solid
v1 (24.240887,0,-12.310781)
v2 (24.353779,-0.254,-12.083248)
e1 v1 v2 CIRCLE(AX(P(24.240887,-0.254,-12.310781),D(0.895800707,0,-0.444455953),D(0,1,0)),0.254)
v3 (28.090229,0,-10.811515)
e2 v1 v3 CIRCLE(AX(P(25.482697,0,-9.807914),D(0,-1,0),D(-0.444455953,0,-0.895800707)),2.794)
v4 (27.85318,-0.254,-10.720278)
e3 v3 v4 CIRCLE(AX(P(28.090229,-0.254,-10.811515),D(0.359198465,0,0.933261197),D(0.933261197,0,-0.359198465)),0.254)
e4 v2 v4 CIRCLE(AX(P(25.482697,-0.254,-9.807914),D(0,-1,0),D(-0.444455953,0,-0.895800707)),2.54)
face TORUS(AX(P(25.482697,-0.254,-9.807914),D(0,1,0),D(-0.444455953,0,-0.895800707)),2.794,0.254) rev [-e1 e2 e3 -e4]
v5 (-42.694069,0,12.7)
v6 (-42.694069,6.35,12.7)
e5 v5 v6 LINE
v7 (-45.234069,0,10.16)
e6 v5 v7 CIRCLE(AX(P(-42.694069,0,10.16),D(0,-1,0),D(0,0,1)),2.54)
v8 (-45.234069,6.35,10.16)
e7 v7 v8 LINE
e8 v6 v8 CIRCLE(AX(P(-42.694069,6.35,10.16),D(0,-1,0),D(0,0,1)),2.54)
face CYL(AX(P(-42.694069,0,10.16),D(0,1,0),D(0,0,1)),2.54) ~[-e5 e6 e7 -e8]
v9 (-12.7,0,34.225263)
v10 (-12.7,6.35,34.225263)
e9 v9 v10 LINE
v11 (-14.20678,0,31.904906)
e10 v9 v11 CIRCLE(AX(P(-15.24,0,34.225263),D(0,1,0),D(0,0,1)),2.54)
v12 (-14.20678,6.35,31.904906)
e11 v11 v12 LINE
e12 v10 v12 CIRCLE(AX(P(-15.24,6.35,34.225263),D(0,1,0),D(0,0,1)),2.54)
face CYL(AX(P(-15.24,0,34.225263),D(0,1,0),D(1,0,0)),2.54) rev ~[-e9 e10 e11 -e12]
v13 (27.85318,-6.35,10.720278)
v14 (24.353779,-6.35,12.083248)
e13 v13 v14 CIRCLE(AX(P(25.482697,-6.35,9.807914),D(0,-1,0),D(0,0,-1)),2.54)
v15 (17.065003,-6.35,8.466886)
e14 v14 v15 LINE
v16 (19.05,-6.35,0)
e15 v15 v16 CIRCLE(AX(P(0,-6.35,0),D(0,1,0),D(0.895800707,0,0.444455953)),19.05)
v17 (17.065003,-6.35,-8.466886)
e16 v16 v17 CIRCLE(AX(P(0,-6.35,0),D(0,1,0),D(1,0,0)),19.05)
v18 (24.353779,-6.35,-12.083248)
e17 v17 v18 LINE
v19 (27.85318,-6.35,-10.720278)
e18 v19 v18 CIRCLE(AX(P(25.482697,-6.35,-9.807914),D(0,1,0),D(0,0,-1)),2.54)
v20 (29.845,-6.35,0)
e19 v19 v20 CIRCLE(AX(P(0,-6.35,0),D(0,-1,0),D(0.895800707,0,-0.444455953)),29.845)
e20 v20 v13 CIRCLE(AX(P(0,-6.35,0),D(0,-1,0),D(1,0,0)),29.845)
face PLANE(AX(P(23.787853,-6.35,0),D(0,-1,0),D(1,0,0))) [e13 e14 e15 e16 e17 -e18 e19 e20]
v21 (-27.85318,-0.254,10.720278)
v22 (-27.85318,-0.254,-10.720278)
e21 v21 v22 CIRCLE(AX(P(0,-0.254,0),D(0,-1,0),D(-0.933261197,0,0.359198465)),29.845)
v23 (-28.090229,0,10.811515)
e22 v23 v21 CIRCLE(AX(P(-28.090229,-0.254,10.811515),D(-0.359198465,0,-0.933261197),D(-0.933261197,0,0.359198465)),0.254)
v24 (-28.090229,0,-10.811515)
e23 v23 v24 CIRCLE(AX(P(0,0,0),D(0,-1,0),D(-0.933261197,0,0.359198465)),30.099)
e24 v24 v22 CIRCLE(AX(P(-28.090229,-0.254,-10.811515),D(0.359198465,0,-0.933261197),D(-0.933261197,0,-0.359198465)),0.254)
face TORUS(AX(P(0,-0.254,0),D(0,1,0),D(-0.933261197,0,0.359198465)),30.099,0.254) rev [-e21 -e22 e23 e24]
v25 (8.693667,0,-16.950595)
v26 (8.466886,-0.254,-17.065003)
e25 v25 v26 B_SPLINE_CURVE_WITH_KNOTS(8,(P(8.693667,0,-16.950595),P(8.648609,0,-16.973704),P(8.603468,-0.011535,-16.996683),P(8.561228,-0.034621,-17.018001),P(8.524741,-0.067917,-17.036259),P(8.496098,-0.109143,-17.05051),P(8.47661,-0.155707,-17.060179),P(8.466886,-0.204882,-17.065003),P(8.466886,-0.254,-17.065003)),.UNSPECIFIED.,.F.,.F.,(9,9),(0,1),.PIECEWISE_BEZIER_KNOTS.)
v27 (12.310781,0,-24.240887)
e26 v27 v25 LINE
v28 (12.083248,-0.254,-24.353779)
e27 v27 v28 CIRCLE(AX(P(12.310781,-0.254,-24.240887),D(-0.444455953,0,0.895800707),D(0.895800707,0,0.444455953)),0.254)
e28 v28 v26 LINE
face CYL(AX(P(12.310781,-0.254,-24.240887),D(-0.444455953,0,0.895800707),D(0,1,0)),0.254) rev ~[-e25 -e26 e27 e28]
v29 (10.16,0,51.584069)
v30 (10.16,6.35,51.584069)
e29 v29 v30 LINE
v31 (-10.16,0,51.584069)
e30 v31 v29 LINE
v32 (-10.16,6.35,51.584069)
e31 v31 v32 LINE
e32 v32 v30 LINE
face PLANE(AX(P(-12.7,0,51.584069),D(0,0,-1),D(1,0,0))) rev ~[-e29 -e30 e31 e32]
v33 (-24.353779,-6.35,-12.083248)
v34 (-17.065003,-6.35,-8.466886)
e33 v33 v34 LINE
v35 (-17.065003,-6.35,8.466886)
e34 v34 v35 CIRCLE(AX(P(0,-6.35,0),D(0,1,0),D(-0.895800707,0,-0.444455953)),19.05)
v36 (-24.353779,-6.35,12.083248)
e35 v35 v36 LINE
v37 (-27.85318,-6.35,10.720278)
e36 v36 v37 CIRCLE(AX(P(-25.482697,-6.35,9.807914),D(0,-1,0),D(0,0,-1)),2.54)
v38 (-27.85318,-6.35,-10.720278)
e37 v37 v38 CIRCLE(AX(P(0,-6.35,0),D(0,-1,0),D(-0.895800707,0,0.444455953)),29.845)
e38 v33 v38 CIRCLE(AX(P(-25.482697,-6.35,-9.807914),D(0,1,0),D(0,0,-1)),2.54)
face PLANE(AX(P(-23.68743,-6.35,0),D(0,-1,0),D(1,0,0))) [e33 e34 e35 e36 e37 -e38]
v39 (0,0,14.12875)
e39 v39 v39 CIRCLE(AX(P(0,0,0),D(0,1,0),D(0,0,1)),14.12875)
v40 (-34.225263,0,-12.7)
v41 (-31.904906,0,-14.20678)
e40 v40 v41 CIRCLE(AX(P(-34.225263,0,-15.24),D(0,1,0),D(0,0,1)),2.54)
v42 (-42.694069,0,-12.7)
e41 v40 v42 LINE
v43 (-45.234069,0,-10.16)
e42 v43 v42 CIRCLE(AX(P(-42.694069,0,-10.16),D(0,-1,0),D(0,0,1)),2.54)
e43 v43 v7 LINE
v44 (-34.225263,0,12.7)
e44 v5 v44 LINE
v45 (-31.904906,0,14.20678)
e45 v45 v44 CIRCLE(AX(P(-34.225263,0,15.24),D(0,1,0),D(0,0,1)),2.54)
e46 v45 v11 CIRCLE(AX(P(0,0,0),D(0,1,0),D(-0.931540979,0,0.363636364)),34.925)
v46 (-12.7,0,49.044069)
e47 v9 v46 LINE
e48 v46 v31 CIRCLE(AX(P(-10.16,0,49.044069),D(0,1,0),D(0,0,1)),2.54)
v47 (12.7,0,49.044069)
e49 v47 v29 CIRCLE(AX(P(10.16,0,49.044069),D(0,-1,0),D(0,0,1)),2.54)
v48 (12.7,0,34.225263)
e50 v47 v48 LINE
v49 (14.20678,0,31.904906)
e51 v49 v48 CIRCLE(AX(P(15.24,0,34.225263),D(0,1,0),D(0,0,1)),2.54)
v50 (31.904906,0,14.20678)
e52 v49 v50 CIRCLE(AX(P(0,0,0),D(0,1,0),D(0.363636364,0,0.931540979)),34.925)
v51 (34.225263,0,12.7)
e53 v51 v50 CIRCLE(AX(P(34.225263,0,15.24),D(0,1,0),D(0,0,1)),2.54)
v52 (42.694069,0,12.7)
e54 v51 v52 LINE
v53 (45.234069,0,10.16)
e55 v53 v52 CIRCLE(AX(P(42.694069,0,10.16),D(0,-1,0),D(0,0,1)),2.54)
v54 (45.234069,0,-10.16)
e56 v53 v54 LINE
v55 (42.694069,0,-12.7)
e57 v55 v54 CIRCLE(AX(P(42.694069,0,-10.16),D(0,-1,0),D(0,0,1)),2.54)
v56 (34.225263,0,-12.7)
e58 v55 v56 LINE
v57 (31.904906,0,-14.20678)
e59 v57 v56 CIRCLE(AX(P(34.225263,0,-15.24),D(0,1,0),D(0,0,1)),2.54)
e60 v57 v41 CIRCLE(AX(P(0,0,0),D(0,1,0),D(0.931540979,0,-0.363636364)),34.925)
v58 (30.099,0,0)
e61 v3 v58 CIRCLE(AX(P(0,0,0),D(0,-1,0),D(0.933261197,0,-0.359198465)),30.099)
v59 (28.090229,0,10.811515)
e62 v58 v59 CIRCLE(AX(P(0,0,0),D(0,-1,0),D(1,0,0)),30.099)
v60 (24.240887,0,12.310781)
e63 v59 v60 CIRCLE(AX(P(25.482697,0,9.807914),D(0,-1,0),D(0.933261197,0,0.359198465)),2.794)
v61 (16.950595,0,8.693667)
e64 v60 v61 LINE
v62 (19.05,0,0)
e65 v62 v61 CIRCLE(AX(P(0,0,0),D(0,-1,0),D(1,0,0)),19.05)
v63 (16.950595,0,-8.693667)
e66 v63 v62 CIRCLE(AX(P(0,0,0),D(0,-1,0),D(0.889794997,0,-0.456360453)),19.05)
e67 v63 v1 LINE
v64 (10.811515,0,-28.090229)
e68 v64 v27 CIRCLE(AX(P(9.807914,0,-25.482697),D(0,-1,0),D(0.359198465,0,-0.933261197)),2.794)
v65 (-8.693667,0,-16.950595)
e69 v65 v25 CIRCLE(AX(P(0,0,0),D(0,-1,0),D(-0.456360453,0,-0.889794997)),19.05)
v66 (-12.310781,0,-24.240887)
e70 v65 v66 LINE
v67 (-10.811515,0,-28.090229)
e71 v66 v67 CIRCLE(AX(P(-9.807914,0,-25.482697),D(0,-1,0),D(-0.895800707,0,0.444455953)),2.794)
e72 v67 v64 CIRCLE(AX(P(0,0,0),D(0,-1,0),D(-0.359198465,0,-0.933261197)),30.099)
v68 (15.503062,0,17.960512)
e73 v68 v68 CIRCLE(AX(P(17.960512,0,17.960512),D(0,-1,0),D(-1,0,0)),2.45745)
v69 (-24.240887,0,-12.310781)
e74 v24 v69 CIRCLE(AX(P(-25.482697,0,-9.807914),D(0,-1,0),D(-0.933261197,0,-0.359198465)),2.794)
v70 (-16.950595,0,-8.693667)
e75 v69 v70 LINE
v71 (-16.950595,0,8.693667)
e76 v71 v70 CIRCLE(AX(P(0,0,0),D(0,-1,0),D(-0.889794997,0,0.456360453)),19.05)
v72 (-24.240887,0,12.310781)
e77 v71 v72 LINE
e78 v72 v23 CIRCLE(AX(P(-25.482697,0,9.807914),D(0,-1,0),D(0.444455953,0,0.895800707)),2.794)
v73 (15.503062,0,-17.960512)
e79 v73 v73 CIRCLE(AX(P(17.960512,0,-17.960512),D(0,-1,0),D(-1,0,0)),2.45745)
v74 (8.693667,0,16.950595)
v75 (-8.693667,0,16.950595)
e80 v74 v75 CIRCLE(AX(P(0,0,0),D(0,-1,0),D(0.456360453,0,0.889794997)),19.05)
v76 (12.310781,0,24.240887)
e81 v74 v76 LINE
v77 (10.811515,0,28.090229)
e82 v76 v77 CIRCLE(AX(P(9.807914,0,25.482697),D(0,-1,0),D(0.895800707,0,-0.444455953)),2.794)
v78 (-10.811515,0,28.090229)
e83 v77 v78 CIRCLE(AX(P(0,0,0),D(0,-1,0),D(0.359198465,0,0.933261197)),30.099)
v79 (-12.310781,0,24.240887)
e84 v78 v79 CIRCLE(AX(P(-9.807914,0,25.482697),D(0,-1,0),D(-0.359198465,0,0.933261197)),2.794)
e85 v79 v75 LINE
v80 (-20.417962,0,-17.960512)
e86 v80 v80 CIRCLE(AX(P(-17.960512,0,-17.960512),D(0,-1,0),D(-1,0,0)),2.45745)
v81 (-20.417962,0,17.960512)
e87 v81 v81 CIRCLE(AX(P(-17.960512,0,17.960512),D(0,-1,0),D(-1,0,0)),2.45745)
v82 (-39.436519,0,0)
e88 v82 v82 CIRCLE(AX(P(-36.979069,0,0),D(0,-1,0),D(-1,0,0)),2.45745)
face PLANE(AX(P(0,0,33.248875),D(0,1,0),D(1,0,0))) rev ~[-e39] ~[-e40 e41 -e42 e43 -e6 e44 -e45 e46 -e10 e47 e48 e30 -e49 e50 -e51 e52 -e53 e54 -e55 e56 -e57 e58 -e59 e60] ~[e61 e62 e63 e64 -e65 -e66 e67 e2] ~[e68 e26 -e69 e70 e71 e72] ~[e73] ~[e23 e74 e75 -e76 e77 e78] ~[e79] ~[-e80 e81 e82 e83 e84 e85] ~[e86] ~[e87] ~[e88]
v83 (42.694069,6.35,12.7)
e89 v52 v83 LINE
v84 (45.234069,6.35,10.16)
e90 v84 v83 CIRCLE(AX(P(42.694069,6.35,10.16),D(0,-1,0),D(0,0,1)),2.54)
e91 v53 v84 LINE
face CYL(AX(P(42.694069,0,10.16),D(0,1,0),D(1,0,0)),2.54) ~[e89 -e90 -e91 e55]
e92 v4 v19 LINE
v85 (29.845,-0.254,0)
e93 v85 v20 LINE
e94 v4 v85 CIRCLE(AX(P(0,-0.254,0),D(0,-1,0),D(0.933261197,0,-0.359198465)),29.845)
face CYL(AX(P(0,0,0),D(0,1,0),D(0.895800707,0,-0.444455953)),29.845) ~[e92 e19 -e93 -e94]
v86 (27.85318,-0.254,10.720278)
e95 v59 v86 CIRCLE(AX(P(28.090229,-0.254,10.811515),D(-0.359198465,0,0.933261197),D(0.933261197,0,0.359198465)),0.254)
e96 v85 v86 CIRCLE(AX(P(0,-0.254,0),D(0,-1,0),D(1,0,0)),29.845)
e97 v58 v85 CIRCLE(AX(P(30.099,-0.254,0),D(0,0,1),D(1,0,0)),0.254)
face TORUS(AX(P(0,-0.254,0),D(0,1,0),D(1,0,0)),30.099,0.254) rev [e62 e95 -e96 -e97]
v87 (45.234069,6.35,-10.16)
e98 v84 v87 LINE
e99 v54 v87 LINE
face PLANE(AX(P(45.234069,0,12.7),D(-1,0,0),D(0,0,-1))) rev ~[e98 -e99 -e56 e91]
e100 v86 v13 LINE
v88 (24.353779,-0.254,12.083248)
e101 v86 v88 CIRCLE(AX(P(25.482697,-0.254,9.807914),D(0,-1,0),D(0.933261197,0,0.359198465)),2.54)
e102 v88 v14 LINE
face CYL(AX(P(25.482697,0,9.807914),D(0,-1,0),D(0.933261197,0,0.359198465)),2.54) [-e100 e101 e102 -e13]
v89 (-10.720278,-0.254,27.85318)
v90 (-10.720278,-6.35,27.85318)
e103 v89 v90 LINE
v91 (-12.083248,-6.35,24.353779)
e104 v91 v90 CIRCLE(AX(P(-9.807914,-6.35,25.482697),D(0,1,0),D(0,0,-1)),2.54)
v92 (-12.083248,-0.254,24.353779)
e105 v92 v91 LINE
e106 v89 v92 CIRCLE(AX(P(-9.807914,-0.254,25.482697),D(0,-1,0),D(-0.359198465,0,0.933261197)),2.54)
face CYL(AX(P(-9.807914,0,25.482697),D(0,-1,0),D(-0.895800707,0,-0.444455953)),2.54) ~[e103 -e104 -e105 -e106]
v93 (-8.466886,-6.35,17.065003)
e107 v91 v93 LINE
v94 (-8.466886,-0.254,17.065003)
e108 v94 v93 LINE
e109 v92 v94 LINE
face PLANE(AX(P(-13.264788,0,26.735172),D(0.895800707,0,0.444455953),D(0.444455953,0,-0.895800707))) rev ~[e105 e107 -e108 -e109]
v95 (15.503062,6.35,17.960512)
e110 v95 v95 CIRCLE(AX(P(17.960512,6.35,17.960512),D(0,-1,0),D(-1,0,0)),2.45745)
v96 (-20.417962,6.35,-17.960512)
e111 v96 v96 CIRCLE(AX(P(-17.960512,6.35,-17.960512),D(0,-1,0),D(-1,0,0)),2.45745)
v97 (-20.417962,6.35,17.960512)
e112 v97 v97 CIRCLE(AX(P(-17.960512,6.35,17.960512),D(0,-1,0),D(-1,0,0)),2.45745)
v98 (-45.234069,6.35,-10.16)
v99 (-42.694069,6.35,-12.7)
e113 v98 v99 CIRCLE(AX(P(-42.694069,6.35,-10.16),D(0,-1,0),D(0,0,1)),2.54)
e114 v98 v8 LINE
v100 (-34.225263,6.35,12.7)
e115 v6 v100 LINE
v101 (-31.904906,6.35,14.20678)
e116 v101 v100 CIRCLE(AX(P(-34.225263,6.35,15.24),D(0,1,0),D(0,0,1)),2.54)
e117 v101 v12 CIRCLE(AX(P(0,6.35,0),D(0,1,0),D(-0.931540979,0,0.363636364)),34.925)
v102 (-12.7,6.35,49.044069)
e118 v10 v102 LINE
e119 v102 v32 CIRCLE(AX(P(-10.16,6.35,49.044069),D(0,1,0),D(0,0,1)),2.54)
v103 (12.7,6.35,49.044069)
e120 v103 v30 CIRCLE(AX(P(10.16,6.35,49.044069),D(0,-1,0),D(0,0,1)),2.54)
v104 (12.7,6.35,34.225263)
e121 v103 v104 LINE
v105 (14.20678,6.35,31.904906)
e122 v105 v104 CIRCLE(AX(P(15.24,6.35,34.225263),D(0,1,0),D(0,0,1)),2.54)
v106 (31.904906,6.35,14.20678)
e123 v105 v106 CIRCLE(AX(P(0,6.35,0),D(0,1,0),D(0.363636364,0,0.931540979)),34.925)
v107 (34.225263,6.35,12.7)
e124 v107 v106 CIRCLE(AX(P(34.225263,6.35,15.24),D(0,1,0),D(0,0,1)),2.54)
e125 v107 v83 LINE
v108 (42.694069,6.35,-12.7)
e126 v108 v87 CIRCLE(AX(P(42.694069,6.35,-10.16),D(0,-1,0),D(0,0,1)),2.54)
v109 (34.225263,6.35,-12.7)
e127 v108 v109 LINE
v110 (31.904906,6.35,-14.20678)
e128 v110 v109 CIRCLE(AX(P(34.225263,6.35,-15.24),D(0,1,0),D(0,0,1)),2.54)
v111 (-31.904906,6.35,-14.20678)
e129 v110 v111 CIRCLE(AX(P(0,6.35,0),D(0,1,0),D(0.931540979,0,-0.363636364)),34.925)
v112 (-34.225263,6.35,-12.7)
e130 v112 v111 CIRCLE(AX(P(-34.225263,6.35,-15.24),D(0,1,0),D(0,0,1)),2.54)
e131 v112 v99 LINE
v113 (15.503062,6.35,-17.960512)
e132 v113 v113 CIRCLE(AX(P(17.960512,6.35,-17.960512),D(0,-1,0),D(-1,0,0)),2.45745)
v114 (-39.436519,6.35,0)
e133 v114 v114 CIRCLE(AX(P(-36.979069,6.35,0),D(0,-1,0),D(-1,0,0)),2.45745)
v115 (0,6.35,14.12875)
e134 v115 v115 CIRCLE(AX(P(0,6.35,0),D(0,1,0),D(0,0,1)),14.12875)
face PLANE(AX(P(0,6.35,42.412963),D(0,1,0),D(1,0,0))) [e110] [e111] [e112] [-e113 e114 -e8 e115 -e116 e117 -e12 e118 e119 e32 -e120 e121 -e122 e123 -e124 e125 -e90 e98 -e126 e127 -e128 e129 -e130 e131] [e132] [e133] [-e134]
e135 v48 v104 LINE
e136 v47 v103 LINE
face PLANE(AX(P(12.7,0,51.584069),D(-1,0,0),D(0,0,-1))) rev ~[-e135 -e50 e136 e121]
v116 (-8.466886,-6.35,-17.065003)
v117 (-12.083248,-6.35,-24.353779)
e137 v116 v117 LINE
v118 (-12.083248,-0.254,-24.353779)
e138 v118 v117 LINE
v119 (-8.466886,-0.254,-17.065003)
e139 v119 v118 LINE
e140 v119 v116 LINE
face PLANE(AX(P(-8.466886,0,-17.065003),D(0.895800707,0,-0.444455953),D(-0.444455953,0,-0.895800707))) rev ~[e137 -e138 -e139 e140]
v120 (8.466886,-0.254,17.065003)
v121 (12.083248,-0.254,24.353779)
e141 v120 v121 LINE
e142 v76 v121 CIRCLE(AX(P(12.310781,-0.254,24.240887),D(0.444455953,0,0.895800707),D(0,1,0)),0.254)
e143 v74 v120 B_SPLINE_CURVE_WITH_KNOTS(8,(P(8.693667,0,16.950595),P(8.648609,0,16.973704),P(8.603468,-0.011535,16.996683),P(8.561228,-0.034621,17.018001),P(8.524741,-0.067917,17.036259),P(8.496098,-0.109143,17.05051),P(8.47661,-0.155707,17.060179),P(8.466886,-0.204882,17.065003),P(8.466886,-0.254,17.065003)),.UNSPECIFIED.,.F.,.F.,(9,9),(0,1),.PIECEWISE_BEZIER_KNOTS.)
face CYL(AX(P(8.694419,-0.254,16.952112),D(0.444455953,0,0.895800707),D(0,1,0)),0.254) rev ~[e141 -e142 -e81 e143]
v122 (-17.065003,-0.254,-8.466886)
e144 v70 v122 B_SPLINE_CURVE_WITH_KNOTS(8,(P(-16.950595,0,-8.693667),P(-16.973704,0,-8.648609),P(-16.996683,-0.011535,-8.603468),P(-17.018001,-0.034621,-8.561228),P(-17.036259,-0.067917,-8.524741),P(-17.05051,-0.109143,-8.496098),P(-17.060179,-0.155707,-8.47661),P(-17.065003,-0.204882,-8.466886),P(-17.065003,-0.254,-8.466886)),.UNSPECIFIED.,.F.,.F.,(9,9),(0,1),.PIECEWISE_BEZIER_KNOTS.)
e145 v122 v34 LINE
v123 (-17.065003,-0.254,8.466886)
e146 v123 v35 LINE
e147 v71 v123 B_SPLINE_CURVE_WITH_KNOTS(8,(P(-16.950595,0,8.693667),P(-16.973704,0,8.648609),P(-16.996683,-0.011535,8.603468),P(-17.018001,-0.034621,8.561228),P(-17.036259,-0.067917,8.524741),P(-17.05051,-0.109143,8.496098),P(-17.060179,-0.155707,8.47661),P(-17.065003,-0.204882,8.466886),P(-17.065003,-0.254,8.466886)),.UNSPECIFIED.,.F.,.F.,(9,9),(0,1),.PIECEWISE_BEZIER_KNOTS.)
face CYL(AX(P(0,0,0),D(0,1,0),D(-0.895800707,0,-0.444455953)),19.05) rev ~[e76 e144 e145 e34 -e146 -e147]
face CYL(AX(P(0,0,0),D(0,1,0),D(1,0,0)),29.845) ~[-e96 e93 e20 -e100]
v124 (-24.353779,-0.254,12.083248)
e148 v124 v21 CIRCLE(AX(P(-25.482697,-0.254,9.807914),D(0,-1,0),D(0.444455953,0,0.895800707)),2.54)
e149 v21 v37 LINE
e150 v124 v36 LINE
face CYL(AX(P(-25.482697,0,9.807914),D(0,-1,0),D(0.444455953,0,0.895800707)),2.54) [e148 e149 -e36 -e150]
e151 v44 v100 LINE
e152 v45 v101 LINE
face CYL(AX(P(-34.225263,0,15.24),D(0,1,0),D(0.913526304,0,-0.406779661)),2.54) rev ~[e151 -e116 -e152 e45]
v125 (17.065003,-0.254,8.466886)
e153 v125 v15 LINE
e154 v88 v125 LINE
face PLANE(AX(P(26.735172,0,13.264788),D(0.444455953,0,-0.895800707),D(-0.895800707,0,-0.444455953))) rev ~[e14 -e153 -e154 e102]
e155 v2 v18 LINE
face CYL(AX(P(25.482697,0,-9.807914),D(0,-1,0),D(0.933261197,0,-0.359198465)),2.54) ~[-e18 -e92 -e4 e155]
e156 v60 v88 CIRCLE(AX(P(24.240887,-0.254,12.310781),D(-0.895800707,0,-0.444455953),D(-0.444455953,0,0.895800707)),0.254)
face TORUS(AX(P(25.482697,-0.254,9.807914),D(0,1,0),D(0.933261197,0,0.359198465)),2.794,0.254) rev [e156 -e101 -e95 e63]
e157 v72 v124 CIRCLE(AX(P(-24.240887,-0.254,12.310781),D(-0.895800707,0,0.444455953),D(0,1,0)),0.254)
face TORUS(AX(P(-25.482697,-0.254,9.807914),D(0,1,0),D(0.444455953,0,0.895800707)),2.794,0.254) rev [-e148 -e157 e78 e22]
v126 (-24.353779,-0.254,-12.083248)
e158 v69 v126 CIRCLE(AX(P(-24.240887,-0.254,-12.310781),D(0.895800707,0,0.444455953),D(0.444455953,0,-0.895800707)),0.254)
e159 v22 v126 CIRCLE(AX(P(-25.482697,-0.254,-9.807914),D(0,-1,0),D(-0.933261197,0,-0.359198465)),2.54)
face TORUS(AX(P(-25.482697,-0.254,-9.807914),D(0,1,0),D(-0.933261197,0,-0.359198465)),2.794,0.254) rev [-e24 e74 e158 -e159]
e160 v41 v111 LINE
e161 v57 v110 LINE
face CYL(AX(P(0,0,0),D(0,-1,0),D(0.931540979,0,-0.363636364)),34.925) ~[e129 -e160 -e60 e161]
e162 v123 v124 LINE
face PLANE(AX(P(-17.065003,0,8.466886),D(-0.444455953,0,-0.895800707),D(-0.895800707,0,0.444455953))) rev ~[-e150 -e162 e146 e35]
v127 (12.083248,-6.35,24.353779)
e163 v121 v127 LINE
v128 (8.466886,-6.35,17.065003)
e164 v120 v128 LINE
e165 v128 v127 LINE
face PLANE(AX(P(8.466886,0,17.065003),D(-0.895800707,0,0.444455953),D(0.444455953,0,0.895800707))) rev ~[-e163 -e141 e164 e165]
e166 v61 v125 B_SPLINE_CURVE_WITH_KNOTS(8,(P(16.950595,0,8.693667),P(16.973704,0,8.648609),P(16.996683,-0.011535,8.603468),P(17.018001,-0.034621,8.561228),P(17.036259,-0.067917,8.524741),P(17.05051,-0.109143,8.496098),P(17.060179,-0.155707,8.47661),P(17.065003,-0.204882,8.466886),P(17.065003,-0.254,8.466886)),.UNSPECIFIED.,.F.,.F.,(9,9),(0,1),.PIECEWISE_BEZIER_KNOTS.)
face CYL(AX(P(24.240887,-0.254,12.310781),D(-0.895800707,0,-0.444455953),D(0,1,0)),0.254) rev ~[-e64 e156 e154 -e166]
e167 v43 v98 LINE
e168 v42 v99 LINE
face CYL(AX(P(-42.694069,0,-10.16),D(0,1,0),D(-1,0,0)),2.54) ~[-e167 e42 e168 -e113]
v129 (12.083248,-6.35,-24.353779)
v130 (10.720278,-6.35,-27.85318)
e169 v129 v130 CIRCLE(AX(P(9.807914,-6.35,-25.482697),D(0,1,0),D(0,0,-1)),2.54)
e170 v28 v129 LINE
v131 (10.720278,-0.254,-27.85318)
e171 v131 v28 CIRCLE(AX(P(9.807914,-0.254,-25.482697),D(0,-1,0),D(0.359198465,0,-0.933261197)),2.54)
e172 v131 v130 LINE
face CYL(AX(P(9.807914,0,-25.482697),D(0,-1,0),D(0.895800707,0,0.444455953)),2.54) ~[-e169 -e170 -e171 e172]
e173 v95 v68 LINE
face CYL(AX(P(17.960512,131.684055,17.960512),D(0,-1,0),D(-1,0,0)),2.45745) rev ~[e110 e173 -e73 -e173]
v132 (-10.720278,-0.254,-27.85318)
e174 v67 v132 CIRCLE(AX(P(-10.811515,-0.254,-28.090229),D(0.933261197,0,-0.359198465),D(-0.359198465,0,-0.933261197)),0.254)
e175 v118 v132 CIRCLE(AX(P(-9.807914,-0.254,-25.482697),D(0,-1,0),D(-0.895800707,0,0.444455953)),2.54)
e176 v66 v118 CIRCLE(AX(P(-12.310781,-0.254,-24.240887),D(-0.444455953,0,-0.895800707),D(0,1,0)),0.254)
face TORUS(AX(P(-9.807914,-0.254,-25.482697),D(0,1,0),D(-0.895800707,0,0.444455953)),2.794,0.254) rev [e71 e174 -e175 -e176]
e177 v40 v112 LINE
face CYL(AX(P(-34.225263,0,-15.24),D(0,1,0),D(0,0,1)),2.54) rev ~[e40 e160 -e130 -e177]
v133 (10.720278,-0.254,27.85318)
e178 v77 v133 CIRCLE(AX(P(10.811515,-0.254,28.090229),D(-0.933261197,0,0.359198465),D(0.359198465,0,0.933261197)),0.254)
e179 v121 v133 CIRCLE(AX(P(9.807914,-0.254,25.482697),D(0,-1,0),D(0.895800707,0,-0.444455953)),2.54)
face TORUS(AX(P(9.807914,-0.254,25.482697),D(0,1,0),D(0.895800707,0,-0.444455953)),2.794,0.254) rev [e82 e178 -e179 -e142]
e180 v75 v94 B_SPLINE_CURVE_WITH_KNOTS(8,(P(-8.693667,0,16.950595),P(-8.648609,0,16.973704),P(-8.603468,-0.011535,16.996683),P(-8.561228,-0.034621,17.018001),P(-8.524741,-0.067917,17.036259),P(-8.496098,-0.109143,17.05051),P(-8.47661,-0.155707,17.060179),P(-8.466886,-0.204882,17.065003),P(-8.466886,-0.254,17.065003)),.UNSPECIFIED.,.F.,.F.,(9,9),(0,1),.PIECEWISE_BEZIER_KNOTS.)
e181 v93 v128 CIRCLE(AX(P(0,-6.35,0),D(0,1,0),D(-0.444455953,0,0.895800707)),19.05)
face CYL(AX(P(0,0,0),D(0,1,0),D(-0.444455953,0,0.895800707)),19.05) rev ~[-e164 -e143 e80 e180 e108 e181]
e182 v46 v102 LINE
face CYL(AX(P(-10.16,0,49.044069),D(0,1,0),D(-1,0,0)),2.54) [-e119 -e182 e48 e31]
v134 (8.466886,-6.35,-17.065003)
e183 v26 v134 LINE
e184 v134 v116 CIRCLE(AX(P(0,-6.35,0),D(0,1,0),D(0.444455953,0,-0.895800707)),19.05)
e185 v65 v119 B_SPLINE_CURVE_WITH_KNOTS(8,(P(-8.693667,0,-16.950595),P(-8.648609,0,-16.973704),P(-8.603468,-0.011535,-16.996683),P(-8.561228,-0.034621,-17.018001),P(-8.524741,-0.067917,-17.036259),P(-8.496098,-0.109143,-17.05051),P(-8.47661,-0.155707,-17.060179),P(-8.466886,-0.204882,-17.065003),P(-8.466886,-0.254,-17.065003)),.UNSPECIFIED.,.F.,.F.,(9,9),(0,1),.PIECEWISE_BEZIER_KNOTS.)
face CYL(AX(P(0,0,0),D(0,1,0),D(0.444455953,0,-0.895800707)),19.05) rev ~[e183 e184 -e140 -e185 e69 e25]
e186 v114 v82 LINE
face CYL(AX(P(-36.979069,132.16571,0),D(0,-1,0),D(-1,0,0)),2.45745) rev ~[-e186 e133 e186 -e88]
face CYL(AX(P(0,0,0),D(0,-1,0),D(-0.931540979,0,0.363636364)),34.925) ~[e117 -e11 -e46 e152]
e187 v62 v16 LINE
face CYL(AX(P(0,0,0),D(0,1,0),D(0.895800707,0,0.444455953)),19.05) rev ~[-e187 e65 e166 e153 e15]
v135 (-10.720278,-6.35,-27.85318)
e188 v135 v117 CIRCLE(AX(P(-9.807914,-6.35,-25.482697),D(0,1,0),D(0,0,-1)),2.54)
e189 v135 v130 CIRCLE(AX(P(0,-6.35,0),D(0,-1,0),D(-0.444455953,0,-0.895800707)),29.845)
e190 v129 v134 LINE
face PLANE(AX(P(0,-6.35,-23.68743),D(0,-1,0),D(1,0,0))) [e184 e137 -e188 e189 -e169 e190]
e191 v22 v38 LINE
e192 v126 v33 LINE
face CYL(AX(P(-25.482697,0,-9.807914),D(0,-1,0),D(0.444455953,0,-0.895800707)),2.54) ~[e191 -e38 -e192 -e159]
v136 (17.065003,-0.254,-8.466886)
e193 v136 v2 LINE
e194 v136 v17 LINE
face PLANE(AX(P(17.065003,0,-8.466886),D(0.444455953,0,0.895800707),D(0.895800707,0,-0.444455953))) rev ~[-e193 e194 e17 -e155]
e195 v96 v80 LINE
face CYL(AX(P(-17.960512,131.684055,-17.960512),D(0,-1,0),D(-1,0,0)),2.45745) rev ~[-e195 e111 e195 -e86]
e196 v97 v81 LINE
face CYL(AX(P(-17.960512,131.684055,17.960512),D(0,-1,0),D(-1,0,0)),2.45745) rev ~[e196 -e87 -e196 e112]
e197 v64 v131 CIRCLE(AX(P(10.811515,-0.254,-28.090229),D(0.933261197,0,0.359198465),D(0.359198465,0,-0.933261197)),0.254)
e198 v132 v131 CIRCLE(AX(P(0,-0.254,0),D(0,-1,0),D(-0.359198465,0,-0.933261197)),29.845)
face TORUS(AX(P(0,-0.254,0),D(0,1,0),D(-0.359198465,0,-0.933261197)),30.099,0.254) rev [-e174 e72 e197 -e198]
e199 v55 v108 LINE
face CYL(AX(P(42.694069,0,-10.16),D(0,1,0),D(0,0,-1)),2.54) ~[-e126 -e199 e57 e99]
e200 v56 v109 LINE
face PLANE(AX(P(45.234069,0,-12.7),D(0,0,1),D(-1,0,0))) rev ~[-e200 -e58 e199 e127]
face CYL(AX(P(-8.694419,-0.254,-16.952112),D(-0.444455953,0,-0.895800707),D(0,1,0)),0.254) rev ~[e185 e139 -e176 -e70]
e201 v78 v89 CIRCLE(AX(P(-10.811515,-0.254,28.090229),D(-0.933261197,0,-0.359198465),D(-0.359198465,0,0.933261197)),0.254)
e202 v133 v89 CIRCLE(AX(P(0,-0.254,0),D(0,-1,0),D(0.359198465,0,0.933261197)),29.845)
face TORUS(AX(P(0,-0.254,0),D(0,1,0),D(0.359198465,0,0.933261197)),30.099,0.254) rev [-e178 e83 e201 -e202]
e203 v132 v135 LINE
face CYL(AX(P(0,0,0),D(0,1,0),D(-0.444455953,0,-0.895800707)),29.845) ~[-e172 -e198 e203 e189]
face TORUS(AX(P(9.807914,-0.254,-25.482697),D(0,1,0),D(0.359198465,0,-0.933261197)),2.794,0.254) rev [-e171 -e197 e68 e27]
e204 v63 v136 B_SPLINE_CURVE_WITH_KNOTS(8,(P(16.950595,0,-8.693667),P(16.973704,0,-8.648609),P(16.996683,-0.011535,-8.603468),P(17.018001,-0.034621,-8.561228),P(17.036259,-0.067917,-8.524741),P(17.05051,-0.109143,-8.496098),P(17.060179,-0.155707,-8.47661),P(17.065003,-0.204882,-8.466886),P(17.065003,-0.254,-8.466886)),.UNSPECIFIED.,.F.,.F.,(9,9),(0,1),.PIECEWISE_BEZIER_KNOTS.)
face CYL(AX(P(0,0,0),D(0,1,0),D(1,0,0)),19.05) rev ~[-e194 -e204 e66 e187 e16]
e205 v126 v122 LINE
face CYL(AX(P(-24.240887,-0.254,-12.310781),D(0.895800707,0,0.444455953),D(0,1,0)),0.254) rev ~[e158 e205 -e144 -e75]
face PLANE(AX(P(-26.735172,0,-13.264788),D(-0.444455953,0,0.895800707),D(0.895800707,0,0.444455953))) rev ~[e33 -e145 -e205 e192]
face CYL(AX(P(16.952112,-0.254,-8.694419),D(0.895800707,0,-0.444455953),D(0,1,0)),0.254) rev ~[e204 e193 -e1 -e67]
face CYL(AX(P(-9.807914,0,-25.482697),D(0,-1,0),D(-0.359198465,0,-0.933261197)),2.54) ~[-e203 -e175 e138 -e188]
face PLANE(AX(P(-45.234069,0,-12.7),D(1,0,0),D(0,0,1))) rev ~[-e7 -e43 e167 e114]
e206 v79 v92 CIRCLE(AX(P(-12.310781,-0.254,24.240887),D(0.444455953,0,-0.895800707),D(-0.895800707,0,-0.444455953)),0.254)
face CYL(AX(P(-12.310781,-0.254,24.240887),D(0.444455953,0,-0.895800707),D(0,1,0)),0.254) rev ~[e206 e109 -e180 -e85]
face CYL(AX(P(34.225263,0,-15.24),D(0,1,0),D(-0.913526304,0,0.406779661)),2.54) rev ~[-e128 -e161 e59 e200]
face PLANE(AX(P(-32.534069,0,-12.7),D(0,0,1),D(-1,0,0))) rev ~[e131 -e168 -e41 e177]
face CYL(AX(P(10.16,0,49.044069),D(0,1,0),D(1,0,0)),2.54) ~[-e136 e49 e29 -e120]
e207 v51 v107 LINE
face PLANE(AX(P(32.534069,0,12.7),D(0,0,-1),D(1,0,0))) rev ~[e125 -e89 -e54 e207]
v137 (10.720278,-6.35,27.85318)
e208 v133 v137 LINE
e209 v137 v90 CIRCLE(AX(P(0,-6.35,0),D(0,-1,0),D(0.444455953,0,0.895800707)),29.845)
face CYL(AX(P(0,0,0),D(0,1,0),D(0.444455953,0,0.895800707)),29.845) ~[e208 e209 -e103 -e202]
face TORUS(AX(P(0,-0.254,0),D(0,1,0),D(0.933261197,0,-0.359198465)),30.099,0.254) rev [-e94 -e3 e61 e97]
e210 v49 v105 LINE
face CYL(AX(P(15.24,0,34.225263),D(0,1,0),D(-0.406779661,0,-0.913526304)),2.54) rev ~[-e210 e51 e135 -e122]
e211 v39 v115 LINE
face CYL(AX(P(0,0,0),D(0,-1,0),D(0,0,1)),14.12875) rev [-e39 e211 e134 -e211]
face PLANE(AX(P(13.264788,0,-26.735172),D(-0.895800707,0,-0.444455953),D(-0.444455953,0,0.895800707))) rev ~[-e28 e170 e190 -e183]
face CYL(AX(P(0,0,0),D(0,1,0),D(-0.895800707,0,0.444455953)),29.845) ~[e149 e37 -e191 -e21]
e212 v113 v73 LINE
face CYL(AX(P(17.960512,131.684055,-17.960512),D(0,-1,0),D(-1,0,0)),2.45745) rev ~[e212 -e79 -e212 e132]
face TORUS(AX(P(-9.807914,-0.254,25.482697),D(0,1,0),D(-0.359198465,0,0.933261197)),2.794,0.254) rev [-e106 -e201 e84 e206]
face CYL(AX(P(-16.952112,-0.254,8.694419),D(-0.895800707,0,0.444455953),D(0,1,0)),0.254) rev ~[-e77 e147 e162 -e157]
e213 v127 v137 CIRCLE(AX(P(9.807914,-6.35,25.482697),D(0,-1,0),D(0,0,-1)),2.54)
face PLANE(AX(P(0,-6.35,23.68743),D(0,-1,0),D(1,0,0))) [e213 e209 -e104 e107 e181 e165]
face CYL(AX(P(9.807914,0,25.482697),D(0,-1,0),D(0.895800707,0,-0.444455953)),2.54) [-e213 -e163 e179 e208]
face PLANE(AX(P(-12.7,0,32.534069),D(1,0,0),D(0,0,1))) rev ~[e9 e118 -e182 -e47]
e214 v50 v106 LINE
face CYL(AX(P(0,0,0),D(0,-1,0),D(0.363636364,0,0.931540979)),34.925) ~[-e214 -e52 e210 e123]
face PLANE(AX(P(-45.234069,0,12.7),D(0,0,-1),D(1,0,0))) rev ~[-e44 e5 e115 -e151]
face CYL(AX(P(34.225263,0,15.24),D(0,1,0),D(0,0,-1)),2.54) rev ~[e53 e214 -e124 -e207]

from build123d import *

# Parameters (mm, degrees)
SKETCH1_R                    = 14.12875
STOCK_EXTRUDE_DEPTH          = 6.35
F_10_0_1935_DIAMETER_HOLE1_D = 4.9149
BOSS_EXTRUDE2_DEPTH          = 6.35
FILLET2_R                    = 2.54
FILLET3_R                    = 0.254
FILLET4_R                    = 2.54
F_10_0_1935_DIAMETER_HOLE2_D = 4.9149


with BuildPart() as part:
    # Sketch1 → Stock Extrude (new body)
    # profile 1 of 6: a face of its own
    with BuildSketch(Plane(origin=(0, 0, 0), x_dir=(1, 0, 0), z_dir=(0, 1, 0))):
        with BuildLine():
            Line((-45.234068682, -12.7), (-32.534068682, -12.7))
            ThreePointArc((-32.534068682, -12.7), (-34.925, 0), (-32.534068682, 12.7))
            Line((-32.534068682, 12.7), (-45.234068682, 12.7))
            Line((-45.234068682, 12.7), (-45.234068682, -12.7))
        make_face()
    # profile 2 of 6: a face of its own
    with BuildSketch(Plane(origin=(0, 0, 0), x_dir=(1, 0, 0), z_dir=(0, 1, 0))):
        with BuildLine():
            Line((-12.7, -32.534068682), (12.7, -32.534068682))
            ThreePointArc((12.7, -32.534068682), (24.695704333, -24.695704333), (32.534068682, -12.7))
            ThreePointArc((32.534068682, -12.7), (34.322062684, -6.461550754), (34.925, 0))
            ThreePointArc((34.925, 0), (34.322062684, 6.461550754), (32.534068682, 12.7))
            ThreePointArc((32.534068682, 12.7), (0, 34.925), (-32.534068682, 12.7))
            Line((-32.534068682, 12.7), (-32.534068682, -12.7))
            ThreePointArc((-32.534068682, -12.7), (-24.695704333, -24.695704333), (-12.7, -32.534068682))
        make_face()
        with Locations(Location((0, 0, 0), (0, 0, 270))):
            Circle(SKETCH1_R, mode=Mode.SUBTRACT)
    # profile 3 of 6: a face of its own
    with BuildSketch(Plane(origin=(0, 0, 0), x_dir=(1, 0, 0), z_dir=(0, 1, 0))):
        with BuildLine():
            ThreePointArc((34.925, 0), (34.322062684, -6.461550754), (32.534068682, -12.7))
            Line((32.534068682, -12.7), (45.234068682, -12.7))
            Line((45.234068682, -12.7), (45.234068682, 12.7))
            Line((45.234068682, 12.7), (32.534068682, 12.7))
            ThreePointArc((32.534068682, 12.7), (34.322062684, 6.461550754), (34.925, 0))
        make_face()
    # profile 4 of 6: a face of its own
    with BuildSketch(Plane(origin=(0, 0, 0), x_dir=(1, 0, 0), z_dir=(0, 1, 0))):
        with BuildLine():
            ThreePointArc((-32.534068682, 12.7), (-34.925, 0), (-32.534068682, -12.7))
            Line((-32.534068682, -12.7), (-32.534068682, 12.7))
        make_face()
    # profile 5 of 6: a face of its own
    with BuildSketch(Plane(origin=(0, 0, 0), x_dir=(1, 0, 0), z_dir=(0, 1, 0))):
        with BuildLine():
            Line((-12.7, -51.584068682), (12.7, -51.584068682))
            Line((12.7, -51.584068682), (12.7, -32.534068682))
            ThreePointArc((12.7, -32.534068682), (0, -34.925), (-12.7, -32.534068682))
            Line((-12.7, -32.534068682), (-12.7, -51.584068682))
        make_face()
    # profile 6 of 6: a face of its own
    with BuildSketch(Plane(origin=(0, 0, 0), x_dir=(1, 0, 0), z_dir=(0, 1, 0))):
        with BuildLine():
            ThreePointArc((-12.7, -32.534068682), (0, -34.925), (12.7, -32.534068682))
            Line((12.7, -32.534068682), (-12.7, -32.534068682))
        make_face()
    extrude(amount=STOCK_EXTRUDE_DEPTH)

    # #10 (0.1935) Diameter Hole1 (through all)
    with Locations(Plane(origin=(0, 6.35, 0), x_dir=(1, 0, 0), z_dir=(0, 1, 0))):
        with Locations((-17.960512242, 17.960512242), (17.960512242, 17.960512242), (-17.960512242, -17.960512242), (17.960512242, -17.960512242)):
            Hole(F_10_0_1935_DIAMETER_HOLE1_D / 2)

    # Sketch4 → Boss-Extrude2 (add)
    with BuildSketch(Plane.XZ):
        with BuildLine():
            ThreePointArc((-26.735172091, 13.264787909), (-29.845, 0), (-26.735172091, -13.264787909))
            Line((-26.735172091, -13.264787909), (-17.065003462, -8.466885899))
            ThreePointArc((-17.065003462, -8.466885899), (-19.05, 0), (-17.065003462, 8.466885899))
            Line((-17.065003462, 8.466885899), (-26.735172091, 13.264787909))
        make_face()
        with BuildLine():
            Line((26.735172091, 13.264787909), (17.065003462, 8.466885899))
            ThreePointArc((17.065003462, 8.466885899), (18.547113198, 4.348228607), (19.05, 0))
            ThreePointArc((19.05, 0), (18.547113198, -4.348228607), (17.065003462, -8.466885899))
            Line((17.065003462, -8.466885899), (26.735172091, -13.264787909))
            ThreePointArc((26.735172091, -13.264787909), (29.05714401, -6.812224818), (29.845, 0))
            ThreePointArc((29.845, 0), (29.05714401, 6.812224818), (26.735172091, 13.264787909))
        make_face()
        with BuildLine():
            Line((-8.466885899, -17.065003462), (-13.264787909, -26.735172091))
            ThreePointArc((-13.264787909, -26.735172091), (0, -29.845), (13.264787909, -26.735172091))
            Line((13.264787909, -26.735172091), (8.466885899, -17.065003462))
            ThreePointArc((8.466885899, -17.065003462), (0, -19.05), (-8.466885899, -17.065003462))
        make_face()
        with BuildLine():
            ThreePointArc((13.264787909, 26.735172091), (0, 29.845), (-13.264787909, 26.735172091))
            Line((-13.264787909, 26.735172091), (-8.466885899, 17.065003462))
            ThreePointArc((-8.466885899, 17.065003462), (0, 19.05), (8.466885899, 17.065003462))
            Line((8.466885899, 17.065003462), (13.264787909, 26.735172091))
        make_face()
    extrude(amount=BOSS_EXTRUDE2_DEPTH)

    # Fillet2
    fillet2_edges = [part.edges().sort_by_distance(p)[0] for p in [
        (-26.735172091, -3.175, 13.264787909),
        (-26.735172091, -3.175, -13.264787909),
        (13.264787909, -3.175, 26.735172091),
        (-13.264787909, -3.175, 26.735172091),
        (26.735172091, -3.175, -13.264787909),
        (26.735172091, -3.175, 13.264787909),
        (-13.264787909, -3.175, -26.735172091),
        (13.264787909, -3.175, -26.735172091),
    ]]
    fillet(fillet2_edges, radius=FILLET2_R)

    # Fillet3
    fillet3_edges = [part.edges().sort_by_distance(p)[0] for p in [
        (-20.709391169, 0, -10.275066892),
        (-29.845, 0, 0),
        (0, 0, 29.845),
        (29.845, 0, 0),
        (20.70939117, 0, -10.275066892),
        (0, 0, -29.845),
        (-10.275066892, 0, -20.709391169),
        (10.275066892, 0, -20.709391169),
        (-26.404539016, 0, -12.174727831),
        (-26.404539016, 0, 12.174727831),
        (-12.174727831, 0, 26.404539016),
        (12.174727831, 0, 26.404539016),
        (26.404539016, 0, 12.174727831),
        (26.404539016, 0, -12.174727831),
        (-12.174727831, 0, -26.404539016),
        (12.174727831, 0, -26.404539016),
        (-20.709391169, 0, 10.275066892),
        (10.275066892, 0, 20.70939117),
        (-10.275066892, 0, 20.70939117),
        (20.70939117, 0, 10.275066892),
    ]]
    fillet(fillet3_edges, radius=FILLET3_R)

    # Fillet4
    fillet4_edges = [part.edges().sort_by_distance(p)[0] for p in [
        (-45.234068682, 3.175, 12.7),
        (-45.234068682, 3.175, -12.7),
        (-32.534068682, 3.175, -12.7),
        (32.534068682, 3.175, -12.7),
        (45.234068682, 3.175, -12.7),
        (45.234068682, 3.175, 12.7),
        (32.534068682, 3.175, 12.7),
        (12.7, 3.175, 32.534068682),
        (12.7, 3.175, 51.584068682),
        (-12.7, 3.175, 51.584068682),
        (-12.7, 3.175, 32.534068682),
        (-32.534068682, 3.175, 12.7),
    ]]
    fillet(fillet4_edges, radius=FILLET4_R)

    # #10 (0.1935) Diameter Hole2 (through all)
    with Locations(Plane(origin=(0, 6.35, 0), x_dir=(1, 0, 0), z_dir=(0, 1, 0))):
        with Locations((-36.979068682, 0)):
            Hole(F_10_0_1935_DIAMETER_HOLE2_D / 2)


solid = part.part
